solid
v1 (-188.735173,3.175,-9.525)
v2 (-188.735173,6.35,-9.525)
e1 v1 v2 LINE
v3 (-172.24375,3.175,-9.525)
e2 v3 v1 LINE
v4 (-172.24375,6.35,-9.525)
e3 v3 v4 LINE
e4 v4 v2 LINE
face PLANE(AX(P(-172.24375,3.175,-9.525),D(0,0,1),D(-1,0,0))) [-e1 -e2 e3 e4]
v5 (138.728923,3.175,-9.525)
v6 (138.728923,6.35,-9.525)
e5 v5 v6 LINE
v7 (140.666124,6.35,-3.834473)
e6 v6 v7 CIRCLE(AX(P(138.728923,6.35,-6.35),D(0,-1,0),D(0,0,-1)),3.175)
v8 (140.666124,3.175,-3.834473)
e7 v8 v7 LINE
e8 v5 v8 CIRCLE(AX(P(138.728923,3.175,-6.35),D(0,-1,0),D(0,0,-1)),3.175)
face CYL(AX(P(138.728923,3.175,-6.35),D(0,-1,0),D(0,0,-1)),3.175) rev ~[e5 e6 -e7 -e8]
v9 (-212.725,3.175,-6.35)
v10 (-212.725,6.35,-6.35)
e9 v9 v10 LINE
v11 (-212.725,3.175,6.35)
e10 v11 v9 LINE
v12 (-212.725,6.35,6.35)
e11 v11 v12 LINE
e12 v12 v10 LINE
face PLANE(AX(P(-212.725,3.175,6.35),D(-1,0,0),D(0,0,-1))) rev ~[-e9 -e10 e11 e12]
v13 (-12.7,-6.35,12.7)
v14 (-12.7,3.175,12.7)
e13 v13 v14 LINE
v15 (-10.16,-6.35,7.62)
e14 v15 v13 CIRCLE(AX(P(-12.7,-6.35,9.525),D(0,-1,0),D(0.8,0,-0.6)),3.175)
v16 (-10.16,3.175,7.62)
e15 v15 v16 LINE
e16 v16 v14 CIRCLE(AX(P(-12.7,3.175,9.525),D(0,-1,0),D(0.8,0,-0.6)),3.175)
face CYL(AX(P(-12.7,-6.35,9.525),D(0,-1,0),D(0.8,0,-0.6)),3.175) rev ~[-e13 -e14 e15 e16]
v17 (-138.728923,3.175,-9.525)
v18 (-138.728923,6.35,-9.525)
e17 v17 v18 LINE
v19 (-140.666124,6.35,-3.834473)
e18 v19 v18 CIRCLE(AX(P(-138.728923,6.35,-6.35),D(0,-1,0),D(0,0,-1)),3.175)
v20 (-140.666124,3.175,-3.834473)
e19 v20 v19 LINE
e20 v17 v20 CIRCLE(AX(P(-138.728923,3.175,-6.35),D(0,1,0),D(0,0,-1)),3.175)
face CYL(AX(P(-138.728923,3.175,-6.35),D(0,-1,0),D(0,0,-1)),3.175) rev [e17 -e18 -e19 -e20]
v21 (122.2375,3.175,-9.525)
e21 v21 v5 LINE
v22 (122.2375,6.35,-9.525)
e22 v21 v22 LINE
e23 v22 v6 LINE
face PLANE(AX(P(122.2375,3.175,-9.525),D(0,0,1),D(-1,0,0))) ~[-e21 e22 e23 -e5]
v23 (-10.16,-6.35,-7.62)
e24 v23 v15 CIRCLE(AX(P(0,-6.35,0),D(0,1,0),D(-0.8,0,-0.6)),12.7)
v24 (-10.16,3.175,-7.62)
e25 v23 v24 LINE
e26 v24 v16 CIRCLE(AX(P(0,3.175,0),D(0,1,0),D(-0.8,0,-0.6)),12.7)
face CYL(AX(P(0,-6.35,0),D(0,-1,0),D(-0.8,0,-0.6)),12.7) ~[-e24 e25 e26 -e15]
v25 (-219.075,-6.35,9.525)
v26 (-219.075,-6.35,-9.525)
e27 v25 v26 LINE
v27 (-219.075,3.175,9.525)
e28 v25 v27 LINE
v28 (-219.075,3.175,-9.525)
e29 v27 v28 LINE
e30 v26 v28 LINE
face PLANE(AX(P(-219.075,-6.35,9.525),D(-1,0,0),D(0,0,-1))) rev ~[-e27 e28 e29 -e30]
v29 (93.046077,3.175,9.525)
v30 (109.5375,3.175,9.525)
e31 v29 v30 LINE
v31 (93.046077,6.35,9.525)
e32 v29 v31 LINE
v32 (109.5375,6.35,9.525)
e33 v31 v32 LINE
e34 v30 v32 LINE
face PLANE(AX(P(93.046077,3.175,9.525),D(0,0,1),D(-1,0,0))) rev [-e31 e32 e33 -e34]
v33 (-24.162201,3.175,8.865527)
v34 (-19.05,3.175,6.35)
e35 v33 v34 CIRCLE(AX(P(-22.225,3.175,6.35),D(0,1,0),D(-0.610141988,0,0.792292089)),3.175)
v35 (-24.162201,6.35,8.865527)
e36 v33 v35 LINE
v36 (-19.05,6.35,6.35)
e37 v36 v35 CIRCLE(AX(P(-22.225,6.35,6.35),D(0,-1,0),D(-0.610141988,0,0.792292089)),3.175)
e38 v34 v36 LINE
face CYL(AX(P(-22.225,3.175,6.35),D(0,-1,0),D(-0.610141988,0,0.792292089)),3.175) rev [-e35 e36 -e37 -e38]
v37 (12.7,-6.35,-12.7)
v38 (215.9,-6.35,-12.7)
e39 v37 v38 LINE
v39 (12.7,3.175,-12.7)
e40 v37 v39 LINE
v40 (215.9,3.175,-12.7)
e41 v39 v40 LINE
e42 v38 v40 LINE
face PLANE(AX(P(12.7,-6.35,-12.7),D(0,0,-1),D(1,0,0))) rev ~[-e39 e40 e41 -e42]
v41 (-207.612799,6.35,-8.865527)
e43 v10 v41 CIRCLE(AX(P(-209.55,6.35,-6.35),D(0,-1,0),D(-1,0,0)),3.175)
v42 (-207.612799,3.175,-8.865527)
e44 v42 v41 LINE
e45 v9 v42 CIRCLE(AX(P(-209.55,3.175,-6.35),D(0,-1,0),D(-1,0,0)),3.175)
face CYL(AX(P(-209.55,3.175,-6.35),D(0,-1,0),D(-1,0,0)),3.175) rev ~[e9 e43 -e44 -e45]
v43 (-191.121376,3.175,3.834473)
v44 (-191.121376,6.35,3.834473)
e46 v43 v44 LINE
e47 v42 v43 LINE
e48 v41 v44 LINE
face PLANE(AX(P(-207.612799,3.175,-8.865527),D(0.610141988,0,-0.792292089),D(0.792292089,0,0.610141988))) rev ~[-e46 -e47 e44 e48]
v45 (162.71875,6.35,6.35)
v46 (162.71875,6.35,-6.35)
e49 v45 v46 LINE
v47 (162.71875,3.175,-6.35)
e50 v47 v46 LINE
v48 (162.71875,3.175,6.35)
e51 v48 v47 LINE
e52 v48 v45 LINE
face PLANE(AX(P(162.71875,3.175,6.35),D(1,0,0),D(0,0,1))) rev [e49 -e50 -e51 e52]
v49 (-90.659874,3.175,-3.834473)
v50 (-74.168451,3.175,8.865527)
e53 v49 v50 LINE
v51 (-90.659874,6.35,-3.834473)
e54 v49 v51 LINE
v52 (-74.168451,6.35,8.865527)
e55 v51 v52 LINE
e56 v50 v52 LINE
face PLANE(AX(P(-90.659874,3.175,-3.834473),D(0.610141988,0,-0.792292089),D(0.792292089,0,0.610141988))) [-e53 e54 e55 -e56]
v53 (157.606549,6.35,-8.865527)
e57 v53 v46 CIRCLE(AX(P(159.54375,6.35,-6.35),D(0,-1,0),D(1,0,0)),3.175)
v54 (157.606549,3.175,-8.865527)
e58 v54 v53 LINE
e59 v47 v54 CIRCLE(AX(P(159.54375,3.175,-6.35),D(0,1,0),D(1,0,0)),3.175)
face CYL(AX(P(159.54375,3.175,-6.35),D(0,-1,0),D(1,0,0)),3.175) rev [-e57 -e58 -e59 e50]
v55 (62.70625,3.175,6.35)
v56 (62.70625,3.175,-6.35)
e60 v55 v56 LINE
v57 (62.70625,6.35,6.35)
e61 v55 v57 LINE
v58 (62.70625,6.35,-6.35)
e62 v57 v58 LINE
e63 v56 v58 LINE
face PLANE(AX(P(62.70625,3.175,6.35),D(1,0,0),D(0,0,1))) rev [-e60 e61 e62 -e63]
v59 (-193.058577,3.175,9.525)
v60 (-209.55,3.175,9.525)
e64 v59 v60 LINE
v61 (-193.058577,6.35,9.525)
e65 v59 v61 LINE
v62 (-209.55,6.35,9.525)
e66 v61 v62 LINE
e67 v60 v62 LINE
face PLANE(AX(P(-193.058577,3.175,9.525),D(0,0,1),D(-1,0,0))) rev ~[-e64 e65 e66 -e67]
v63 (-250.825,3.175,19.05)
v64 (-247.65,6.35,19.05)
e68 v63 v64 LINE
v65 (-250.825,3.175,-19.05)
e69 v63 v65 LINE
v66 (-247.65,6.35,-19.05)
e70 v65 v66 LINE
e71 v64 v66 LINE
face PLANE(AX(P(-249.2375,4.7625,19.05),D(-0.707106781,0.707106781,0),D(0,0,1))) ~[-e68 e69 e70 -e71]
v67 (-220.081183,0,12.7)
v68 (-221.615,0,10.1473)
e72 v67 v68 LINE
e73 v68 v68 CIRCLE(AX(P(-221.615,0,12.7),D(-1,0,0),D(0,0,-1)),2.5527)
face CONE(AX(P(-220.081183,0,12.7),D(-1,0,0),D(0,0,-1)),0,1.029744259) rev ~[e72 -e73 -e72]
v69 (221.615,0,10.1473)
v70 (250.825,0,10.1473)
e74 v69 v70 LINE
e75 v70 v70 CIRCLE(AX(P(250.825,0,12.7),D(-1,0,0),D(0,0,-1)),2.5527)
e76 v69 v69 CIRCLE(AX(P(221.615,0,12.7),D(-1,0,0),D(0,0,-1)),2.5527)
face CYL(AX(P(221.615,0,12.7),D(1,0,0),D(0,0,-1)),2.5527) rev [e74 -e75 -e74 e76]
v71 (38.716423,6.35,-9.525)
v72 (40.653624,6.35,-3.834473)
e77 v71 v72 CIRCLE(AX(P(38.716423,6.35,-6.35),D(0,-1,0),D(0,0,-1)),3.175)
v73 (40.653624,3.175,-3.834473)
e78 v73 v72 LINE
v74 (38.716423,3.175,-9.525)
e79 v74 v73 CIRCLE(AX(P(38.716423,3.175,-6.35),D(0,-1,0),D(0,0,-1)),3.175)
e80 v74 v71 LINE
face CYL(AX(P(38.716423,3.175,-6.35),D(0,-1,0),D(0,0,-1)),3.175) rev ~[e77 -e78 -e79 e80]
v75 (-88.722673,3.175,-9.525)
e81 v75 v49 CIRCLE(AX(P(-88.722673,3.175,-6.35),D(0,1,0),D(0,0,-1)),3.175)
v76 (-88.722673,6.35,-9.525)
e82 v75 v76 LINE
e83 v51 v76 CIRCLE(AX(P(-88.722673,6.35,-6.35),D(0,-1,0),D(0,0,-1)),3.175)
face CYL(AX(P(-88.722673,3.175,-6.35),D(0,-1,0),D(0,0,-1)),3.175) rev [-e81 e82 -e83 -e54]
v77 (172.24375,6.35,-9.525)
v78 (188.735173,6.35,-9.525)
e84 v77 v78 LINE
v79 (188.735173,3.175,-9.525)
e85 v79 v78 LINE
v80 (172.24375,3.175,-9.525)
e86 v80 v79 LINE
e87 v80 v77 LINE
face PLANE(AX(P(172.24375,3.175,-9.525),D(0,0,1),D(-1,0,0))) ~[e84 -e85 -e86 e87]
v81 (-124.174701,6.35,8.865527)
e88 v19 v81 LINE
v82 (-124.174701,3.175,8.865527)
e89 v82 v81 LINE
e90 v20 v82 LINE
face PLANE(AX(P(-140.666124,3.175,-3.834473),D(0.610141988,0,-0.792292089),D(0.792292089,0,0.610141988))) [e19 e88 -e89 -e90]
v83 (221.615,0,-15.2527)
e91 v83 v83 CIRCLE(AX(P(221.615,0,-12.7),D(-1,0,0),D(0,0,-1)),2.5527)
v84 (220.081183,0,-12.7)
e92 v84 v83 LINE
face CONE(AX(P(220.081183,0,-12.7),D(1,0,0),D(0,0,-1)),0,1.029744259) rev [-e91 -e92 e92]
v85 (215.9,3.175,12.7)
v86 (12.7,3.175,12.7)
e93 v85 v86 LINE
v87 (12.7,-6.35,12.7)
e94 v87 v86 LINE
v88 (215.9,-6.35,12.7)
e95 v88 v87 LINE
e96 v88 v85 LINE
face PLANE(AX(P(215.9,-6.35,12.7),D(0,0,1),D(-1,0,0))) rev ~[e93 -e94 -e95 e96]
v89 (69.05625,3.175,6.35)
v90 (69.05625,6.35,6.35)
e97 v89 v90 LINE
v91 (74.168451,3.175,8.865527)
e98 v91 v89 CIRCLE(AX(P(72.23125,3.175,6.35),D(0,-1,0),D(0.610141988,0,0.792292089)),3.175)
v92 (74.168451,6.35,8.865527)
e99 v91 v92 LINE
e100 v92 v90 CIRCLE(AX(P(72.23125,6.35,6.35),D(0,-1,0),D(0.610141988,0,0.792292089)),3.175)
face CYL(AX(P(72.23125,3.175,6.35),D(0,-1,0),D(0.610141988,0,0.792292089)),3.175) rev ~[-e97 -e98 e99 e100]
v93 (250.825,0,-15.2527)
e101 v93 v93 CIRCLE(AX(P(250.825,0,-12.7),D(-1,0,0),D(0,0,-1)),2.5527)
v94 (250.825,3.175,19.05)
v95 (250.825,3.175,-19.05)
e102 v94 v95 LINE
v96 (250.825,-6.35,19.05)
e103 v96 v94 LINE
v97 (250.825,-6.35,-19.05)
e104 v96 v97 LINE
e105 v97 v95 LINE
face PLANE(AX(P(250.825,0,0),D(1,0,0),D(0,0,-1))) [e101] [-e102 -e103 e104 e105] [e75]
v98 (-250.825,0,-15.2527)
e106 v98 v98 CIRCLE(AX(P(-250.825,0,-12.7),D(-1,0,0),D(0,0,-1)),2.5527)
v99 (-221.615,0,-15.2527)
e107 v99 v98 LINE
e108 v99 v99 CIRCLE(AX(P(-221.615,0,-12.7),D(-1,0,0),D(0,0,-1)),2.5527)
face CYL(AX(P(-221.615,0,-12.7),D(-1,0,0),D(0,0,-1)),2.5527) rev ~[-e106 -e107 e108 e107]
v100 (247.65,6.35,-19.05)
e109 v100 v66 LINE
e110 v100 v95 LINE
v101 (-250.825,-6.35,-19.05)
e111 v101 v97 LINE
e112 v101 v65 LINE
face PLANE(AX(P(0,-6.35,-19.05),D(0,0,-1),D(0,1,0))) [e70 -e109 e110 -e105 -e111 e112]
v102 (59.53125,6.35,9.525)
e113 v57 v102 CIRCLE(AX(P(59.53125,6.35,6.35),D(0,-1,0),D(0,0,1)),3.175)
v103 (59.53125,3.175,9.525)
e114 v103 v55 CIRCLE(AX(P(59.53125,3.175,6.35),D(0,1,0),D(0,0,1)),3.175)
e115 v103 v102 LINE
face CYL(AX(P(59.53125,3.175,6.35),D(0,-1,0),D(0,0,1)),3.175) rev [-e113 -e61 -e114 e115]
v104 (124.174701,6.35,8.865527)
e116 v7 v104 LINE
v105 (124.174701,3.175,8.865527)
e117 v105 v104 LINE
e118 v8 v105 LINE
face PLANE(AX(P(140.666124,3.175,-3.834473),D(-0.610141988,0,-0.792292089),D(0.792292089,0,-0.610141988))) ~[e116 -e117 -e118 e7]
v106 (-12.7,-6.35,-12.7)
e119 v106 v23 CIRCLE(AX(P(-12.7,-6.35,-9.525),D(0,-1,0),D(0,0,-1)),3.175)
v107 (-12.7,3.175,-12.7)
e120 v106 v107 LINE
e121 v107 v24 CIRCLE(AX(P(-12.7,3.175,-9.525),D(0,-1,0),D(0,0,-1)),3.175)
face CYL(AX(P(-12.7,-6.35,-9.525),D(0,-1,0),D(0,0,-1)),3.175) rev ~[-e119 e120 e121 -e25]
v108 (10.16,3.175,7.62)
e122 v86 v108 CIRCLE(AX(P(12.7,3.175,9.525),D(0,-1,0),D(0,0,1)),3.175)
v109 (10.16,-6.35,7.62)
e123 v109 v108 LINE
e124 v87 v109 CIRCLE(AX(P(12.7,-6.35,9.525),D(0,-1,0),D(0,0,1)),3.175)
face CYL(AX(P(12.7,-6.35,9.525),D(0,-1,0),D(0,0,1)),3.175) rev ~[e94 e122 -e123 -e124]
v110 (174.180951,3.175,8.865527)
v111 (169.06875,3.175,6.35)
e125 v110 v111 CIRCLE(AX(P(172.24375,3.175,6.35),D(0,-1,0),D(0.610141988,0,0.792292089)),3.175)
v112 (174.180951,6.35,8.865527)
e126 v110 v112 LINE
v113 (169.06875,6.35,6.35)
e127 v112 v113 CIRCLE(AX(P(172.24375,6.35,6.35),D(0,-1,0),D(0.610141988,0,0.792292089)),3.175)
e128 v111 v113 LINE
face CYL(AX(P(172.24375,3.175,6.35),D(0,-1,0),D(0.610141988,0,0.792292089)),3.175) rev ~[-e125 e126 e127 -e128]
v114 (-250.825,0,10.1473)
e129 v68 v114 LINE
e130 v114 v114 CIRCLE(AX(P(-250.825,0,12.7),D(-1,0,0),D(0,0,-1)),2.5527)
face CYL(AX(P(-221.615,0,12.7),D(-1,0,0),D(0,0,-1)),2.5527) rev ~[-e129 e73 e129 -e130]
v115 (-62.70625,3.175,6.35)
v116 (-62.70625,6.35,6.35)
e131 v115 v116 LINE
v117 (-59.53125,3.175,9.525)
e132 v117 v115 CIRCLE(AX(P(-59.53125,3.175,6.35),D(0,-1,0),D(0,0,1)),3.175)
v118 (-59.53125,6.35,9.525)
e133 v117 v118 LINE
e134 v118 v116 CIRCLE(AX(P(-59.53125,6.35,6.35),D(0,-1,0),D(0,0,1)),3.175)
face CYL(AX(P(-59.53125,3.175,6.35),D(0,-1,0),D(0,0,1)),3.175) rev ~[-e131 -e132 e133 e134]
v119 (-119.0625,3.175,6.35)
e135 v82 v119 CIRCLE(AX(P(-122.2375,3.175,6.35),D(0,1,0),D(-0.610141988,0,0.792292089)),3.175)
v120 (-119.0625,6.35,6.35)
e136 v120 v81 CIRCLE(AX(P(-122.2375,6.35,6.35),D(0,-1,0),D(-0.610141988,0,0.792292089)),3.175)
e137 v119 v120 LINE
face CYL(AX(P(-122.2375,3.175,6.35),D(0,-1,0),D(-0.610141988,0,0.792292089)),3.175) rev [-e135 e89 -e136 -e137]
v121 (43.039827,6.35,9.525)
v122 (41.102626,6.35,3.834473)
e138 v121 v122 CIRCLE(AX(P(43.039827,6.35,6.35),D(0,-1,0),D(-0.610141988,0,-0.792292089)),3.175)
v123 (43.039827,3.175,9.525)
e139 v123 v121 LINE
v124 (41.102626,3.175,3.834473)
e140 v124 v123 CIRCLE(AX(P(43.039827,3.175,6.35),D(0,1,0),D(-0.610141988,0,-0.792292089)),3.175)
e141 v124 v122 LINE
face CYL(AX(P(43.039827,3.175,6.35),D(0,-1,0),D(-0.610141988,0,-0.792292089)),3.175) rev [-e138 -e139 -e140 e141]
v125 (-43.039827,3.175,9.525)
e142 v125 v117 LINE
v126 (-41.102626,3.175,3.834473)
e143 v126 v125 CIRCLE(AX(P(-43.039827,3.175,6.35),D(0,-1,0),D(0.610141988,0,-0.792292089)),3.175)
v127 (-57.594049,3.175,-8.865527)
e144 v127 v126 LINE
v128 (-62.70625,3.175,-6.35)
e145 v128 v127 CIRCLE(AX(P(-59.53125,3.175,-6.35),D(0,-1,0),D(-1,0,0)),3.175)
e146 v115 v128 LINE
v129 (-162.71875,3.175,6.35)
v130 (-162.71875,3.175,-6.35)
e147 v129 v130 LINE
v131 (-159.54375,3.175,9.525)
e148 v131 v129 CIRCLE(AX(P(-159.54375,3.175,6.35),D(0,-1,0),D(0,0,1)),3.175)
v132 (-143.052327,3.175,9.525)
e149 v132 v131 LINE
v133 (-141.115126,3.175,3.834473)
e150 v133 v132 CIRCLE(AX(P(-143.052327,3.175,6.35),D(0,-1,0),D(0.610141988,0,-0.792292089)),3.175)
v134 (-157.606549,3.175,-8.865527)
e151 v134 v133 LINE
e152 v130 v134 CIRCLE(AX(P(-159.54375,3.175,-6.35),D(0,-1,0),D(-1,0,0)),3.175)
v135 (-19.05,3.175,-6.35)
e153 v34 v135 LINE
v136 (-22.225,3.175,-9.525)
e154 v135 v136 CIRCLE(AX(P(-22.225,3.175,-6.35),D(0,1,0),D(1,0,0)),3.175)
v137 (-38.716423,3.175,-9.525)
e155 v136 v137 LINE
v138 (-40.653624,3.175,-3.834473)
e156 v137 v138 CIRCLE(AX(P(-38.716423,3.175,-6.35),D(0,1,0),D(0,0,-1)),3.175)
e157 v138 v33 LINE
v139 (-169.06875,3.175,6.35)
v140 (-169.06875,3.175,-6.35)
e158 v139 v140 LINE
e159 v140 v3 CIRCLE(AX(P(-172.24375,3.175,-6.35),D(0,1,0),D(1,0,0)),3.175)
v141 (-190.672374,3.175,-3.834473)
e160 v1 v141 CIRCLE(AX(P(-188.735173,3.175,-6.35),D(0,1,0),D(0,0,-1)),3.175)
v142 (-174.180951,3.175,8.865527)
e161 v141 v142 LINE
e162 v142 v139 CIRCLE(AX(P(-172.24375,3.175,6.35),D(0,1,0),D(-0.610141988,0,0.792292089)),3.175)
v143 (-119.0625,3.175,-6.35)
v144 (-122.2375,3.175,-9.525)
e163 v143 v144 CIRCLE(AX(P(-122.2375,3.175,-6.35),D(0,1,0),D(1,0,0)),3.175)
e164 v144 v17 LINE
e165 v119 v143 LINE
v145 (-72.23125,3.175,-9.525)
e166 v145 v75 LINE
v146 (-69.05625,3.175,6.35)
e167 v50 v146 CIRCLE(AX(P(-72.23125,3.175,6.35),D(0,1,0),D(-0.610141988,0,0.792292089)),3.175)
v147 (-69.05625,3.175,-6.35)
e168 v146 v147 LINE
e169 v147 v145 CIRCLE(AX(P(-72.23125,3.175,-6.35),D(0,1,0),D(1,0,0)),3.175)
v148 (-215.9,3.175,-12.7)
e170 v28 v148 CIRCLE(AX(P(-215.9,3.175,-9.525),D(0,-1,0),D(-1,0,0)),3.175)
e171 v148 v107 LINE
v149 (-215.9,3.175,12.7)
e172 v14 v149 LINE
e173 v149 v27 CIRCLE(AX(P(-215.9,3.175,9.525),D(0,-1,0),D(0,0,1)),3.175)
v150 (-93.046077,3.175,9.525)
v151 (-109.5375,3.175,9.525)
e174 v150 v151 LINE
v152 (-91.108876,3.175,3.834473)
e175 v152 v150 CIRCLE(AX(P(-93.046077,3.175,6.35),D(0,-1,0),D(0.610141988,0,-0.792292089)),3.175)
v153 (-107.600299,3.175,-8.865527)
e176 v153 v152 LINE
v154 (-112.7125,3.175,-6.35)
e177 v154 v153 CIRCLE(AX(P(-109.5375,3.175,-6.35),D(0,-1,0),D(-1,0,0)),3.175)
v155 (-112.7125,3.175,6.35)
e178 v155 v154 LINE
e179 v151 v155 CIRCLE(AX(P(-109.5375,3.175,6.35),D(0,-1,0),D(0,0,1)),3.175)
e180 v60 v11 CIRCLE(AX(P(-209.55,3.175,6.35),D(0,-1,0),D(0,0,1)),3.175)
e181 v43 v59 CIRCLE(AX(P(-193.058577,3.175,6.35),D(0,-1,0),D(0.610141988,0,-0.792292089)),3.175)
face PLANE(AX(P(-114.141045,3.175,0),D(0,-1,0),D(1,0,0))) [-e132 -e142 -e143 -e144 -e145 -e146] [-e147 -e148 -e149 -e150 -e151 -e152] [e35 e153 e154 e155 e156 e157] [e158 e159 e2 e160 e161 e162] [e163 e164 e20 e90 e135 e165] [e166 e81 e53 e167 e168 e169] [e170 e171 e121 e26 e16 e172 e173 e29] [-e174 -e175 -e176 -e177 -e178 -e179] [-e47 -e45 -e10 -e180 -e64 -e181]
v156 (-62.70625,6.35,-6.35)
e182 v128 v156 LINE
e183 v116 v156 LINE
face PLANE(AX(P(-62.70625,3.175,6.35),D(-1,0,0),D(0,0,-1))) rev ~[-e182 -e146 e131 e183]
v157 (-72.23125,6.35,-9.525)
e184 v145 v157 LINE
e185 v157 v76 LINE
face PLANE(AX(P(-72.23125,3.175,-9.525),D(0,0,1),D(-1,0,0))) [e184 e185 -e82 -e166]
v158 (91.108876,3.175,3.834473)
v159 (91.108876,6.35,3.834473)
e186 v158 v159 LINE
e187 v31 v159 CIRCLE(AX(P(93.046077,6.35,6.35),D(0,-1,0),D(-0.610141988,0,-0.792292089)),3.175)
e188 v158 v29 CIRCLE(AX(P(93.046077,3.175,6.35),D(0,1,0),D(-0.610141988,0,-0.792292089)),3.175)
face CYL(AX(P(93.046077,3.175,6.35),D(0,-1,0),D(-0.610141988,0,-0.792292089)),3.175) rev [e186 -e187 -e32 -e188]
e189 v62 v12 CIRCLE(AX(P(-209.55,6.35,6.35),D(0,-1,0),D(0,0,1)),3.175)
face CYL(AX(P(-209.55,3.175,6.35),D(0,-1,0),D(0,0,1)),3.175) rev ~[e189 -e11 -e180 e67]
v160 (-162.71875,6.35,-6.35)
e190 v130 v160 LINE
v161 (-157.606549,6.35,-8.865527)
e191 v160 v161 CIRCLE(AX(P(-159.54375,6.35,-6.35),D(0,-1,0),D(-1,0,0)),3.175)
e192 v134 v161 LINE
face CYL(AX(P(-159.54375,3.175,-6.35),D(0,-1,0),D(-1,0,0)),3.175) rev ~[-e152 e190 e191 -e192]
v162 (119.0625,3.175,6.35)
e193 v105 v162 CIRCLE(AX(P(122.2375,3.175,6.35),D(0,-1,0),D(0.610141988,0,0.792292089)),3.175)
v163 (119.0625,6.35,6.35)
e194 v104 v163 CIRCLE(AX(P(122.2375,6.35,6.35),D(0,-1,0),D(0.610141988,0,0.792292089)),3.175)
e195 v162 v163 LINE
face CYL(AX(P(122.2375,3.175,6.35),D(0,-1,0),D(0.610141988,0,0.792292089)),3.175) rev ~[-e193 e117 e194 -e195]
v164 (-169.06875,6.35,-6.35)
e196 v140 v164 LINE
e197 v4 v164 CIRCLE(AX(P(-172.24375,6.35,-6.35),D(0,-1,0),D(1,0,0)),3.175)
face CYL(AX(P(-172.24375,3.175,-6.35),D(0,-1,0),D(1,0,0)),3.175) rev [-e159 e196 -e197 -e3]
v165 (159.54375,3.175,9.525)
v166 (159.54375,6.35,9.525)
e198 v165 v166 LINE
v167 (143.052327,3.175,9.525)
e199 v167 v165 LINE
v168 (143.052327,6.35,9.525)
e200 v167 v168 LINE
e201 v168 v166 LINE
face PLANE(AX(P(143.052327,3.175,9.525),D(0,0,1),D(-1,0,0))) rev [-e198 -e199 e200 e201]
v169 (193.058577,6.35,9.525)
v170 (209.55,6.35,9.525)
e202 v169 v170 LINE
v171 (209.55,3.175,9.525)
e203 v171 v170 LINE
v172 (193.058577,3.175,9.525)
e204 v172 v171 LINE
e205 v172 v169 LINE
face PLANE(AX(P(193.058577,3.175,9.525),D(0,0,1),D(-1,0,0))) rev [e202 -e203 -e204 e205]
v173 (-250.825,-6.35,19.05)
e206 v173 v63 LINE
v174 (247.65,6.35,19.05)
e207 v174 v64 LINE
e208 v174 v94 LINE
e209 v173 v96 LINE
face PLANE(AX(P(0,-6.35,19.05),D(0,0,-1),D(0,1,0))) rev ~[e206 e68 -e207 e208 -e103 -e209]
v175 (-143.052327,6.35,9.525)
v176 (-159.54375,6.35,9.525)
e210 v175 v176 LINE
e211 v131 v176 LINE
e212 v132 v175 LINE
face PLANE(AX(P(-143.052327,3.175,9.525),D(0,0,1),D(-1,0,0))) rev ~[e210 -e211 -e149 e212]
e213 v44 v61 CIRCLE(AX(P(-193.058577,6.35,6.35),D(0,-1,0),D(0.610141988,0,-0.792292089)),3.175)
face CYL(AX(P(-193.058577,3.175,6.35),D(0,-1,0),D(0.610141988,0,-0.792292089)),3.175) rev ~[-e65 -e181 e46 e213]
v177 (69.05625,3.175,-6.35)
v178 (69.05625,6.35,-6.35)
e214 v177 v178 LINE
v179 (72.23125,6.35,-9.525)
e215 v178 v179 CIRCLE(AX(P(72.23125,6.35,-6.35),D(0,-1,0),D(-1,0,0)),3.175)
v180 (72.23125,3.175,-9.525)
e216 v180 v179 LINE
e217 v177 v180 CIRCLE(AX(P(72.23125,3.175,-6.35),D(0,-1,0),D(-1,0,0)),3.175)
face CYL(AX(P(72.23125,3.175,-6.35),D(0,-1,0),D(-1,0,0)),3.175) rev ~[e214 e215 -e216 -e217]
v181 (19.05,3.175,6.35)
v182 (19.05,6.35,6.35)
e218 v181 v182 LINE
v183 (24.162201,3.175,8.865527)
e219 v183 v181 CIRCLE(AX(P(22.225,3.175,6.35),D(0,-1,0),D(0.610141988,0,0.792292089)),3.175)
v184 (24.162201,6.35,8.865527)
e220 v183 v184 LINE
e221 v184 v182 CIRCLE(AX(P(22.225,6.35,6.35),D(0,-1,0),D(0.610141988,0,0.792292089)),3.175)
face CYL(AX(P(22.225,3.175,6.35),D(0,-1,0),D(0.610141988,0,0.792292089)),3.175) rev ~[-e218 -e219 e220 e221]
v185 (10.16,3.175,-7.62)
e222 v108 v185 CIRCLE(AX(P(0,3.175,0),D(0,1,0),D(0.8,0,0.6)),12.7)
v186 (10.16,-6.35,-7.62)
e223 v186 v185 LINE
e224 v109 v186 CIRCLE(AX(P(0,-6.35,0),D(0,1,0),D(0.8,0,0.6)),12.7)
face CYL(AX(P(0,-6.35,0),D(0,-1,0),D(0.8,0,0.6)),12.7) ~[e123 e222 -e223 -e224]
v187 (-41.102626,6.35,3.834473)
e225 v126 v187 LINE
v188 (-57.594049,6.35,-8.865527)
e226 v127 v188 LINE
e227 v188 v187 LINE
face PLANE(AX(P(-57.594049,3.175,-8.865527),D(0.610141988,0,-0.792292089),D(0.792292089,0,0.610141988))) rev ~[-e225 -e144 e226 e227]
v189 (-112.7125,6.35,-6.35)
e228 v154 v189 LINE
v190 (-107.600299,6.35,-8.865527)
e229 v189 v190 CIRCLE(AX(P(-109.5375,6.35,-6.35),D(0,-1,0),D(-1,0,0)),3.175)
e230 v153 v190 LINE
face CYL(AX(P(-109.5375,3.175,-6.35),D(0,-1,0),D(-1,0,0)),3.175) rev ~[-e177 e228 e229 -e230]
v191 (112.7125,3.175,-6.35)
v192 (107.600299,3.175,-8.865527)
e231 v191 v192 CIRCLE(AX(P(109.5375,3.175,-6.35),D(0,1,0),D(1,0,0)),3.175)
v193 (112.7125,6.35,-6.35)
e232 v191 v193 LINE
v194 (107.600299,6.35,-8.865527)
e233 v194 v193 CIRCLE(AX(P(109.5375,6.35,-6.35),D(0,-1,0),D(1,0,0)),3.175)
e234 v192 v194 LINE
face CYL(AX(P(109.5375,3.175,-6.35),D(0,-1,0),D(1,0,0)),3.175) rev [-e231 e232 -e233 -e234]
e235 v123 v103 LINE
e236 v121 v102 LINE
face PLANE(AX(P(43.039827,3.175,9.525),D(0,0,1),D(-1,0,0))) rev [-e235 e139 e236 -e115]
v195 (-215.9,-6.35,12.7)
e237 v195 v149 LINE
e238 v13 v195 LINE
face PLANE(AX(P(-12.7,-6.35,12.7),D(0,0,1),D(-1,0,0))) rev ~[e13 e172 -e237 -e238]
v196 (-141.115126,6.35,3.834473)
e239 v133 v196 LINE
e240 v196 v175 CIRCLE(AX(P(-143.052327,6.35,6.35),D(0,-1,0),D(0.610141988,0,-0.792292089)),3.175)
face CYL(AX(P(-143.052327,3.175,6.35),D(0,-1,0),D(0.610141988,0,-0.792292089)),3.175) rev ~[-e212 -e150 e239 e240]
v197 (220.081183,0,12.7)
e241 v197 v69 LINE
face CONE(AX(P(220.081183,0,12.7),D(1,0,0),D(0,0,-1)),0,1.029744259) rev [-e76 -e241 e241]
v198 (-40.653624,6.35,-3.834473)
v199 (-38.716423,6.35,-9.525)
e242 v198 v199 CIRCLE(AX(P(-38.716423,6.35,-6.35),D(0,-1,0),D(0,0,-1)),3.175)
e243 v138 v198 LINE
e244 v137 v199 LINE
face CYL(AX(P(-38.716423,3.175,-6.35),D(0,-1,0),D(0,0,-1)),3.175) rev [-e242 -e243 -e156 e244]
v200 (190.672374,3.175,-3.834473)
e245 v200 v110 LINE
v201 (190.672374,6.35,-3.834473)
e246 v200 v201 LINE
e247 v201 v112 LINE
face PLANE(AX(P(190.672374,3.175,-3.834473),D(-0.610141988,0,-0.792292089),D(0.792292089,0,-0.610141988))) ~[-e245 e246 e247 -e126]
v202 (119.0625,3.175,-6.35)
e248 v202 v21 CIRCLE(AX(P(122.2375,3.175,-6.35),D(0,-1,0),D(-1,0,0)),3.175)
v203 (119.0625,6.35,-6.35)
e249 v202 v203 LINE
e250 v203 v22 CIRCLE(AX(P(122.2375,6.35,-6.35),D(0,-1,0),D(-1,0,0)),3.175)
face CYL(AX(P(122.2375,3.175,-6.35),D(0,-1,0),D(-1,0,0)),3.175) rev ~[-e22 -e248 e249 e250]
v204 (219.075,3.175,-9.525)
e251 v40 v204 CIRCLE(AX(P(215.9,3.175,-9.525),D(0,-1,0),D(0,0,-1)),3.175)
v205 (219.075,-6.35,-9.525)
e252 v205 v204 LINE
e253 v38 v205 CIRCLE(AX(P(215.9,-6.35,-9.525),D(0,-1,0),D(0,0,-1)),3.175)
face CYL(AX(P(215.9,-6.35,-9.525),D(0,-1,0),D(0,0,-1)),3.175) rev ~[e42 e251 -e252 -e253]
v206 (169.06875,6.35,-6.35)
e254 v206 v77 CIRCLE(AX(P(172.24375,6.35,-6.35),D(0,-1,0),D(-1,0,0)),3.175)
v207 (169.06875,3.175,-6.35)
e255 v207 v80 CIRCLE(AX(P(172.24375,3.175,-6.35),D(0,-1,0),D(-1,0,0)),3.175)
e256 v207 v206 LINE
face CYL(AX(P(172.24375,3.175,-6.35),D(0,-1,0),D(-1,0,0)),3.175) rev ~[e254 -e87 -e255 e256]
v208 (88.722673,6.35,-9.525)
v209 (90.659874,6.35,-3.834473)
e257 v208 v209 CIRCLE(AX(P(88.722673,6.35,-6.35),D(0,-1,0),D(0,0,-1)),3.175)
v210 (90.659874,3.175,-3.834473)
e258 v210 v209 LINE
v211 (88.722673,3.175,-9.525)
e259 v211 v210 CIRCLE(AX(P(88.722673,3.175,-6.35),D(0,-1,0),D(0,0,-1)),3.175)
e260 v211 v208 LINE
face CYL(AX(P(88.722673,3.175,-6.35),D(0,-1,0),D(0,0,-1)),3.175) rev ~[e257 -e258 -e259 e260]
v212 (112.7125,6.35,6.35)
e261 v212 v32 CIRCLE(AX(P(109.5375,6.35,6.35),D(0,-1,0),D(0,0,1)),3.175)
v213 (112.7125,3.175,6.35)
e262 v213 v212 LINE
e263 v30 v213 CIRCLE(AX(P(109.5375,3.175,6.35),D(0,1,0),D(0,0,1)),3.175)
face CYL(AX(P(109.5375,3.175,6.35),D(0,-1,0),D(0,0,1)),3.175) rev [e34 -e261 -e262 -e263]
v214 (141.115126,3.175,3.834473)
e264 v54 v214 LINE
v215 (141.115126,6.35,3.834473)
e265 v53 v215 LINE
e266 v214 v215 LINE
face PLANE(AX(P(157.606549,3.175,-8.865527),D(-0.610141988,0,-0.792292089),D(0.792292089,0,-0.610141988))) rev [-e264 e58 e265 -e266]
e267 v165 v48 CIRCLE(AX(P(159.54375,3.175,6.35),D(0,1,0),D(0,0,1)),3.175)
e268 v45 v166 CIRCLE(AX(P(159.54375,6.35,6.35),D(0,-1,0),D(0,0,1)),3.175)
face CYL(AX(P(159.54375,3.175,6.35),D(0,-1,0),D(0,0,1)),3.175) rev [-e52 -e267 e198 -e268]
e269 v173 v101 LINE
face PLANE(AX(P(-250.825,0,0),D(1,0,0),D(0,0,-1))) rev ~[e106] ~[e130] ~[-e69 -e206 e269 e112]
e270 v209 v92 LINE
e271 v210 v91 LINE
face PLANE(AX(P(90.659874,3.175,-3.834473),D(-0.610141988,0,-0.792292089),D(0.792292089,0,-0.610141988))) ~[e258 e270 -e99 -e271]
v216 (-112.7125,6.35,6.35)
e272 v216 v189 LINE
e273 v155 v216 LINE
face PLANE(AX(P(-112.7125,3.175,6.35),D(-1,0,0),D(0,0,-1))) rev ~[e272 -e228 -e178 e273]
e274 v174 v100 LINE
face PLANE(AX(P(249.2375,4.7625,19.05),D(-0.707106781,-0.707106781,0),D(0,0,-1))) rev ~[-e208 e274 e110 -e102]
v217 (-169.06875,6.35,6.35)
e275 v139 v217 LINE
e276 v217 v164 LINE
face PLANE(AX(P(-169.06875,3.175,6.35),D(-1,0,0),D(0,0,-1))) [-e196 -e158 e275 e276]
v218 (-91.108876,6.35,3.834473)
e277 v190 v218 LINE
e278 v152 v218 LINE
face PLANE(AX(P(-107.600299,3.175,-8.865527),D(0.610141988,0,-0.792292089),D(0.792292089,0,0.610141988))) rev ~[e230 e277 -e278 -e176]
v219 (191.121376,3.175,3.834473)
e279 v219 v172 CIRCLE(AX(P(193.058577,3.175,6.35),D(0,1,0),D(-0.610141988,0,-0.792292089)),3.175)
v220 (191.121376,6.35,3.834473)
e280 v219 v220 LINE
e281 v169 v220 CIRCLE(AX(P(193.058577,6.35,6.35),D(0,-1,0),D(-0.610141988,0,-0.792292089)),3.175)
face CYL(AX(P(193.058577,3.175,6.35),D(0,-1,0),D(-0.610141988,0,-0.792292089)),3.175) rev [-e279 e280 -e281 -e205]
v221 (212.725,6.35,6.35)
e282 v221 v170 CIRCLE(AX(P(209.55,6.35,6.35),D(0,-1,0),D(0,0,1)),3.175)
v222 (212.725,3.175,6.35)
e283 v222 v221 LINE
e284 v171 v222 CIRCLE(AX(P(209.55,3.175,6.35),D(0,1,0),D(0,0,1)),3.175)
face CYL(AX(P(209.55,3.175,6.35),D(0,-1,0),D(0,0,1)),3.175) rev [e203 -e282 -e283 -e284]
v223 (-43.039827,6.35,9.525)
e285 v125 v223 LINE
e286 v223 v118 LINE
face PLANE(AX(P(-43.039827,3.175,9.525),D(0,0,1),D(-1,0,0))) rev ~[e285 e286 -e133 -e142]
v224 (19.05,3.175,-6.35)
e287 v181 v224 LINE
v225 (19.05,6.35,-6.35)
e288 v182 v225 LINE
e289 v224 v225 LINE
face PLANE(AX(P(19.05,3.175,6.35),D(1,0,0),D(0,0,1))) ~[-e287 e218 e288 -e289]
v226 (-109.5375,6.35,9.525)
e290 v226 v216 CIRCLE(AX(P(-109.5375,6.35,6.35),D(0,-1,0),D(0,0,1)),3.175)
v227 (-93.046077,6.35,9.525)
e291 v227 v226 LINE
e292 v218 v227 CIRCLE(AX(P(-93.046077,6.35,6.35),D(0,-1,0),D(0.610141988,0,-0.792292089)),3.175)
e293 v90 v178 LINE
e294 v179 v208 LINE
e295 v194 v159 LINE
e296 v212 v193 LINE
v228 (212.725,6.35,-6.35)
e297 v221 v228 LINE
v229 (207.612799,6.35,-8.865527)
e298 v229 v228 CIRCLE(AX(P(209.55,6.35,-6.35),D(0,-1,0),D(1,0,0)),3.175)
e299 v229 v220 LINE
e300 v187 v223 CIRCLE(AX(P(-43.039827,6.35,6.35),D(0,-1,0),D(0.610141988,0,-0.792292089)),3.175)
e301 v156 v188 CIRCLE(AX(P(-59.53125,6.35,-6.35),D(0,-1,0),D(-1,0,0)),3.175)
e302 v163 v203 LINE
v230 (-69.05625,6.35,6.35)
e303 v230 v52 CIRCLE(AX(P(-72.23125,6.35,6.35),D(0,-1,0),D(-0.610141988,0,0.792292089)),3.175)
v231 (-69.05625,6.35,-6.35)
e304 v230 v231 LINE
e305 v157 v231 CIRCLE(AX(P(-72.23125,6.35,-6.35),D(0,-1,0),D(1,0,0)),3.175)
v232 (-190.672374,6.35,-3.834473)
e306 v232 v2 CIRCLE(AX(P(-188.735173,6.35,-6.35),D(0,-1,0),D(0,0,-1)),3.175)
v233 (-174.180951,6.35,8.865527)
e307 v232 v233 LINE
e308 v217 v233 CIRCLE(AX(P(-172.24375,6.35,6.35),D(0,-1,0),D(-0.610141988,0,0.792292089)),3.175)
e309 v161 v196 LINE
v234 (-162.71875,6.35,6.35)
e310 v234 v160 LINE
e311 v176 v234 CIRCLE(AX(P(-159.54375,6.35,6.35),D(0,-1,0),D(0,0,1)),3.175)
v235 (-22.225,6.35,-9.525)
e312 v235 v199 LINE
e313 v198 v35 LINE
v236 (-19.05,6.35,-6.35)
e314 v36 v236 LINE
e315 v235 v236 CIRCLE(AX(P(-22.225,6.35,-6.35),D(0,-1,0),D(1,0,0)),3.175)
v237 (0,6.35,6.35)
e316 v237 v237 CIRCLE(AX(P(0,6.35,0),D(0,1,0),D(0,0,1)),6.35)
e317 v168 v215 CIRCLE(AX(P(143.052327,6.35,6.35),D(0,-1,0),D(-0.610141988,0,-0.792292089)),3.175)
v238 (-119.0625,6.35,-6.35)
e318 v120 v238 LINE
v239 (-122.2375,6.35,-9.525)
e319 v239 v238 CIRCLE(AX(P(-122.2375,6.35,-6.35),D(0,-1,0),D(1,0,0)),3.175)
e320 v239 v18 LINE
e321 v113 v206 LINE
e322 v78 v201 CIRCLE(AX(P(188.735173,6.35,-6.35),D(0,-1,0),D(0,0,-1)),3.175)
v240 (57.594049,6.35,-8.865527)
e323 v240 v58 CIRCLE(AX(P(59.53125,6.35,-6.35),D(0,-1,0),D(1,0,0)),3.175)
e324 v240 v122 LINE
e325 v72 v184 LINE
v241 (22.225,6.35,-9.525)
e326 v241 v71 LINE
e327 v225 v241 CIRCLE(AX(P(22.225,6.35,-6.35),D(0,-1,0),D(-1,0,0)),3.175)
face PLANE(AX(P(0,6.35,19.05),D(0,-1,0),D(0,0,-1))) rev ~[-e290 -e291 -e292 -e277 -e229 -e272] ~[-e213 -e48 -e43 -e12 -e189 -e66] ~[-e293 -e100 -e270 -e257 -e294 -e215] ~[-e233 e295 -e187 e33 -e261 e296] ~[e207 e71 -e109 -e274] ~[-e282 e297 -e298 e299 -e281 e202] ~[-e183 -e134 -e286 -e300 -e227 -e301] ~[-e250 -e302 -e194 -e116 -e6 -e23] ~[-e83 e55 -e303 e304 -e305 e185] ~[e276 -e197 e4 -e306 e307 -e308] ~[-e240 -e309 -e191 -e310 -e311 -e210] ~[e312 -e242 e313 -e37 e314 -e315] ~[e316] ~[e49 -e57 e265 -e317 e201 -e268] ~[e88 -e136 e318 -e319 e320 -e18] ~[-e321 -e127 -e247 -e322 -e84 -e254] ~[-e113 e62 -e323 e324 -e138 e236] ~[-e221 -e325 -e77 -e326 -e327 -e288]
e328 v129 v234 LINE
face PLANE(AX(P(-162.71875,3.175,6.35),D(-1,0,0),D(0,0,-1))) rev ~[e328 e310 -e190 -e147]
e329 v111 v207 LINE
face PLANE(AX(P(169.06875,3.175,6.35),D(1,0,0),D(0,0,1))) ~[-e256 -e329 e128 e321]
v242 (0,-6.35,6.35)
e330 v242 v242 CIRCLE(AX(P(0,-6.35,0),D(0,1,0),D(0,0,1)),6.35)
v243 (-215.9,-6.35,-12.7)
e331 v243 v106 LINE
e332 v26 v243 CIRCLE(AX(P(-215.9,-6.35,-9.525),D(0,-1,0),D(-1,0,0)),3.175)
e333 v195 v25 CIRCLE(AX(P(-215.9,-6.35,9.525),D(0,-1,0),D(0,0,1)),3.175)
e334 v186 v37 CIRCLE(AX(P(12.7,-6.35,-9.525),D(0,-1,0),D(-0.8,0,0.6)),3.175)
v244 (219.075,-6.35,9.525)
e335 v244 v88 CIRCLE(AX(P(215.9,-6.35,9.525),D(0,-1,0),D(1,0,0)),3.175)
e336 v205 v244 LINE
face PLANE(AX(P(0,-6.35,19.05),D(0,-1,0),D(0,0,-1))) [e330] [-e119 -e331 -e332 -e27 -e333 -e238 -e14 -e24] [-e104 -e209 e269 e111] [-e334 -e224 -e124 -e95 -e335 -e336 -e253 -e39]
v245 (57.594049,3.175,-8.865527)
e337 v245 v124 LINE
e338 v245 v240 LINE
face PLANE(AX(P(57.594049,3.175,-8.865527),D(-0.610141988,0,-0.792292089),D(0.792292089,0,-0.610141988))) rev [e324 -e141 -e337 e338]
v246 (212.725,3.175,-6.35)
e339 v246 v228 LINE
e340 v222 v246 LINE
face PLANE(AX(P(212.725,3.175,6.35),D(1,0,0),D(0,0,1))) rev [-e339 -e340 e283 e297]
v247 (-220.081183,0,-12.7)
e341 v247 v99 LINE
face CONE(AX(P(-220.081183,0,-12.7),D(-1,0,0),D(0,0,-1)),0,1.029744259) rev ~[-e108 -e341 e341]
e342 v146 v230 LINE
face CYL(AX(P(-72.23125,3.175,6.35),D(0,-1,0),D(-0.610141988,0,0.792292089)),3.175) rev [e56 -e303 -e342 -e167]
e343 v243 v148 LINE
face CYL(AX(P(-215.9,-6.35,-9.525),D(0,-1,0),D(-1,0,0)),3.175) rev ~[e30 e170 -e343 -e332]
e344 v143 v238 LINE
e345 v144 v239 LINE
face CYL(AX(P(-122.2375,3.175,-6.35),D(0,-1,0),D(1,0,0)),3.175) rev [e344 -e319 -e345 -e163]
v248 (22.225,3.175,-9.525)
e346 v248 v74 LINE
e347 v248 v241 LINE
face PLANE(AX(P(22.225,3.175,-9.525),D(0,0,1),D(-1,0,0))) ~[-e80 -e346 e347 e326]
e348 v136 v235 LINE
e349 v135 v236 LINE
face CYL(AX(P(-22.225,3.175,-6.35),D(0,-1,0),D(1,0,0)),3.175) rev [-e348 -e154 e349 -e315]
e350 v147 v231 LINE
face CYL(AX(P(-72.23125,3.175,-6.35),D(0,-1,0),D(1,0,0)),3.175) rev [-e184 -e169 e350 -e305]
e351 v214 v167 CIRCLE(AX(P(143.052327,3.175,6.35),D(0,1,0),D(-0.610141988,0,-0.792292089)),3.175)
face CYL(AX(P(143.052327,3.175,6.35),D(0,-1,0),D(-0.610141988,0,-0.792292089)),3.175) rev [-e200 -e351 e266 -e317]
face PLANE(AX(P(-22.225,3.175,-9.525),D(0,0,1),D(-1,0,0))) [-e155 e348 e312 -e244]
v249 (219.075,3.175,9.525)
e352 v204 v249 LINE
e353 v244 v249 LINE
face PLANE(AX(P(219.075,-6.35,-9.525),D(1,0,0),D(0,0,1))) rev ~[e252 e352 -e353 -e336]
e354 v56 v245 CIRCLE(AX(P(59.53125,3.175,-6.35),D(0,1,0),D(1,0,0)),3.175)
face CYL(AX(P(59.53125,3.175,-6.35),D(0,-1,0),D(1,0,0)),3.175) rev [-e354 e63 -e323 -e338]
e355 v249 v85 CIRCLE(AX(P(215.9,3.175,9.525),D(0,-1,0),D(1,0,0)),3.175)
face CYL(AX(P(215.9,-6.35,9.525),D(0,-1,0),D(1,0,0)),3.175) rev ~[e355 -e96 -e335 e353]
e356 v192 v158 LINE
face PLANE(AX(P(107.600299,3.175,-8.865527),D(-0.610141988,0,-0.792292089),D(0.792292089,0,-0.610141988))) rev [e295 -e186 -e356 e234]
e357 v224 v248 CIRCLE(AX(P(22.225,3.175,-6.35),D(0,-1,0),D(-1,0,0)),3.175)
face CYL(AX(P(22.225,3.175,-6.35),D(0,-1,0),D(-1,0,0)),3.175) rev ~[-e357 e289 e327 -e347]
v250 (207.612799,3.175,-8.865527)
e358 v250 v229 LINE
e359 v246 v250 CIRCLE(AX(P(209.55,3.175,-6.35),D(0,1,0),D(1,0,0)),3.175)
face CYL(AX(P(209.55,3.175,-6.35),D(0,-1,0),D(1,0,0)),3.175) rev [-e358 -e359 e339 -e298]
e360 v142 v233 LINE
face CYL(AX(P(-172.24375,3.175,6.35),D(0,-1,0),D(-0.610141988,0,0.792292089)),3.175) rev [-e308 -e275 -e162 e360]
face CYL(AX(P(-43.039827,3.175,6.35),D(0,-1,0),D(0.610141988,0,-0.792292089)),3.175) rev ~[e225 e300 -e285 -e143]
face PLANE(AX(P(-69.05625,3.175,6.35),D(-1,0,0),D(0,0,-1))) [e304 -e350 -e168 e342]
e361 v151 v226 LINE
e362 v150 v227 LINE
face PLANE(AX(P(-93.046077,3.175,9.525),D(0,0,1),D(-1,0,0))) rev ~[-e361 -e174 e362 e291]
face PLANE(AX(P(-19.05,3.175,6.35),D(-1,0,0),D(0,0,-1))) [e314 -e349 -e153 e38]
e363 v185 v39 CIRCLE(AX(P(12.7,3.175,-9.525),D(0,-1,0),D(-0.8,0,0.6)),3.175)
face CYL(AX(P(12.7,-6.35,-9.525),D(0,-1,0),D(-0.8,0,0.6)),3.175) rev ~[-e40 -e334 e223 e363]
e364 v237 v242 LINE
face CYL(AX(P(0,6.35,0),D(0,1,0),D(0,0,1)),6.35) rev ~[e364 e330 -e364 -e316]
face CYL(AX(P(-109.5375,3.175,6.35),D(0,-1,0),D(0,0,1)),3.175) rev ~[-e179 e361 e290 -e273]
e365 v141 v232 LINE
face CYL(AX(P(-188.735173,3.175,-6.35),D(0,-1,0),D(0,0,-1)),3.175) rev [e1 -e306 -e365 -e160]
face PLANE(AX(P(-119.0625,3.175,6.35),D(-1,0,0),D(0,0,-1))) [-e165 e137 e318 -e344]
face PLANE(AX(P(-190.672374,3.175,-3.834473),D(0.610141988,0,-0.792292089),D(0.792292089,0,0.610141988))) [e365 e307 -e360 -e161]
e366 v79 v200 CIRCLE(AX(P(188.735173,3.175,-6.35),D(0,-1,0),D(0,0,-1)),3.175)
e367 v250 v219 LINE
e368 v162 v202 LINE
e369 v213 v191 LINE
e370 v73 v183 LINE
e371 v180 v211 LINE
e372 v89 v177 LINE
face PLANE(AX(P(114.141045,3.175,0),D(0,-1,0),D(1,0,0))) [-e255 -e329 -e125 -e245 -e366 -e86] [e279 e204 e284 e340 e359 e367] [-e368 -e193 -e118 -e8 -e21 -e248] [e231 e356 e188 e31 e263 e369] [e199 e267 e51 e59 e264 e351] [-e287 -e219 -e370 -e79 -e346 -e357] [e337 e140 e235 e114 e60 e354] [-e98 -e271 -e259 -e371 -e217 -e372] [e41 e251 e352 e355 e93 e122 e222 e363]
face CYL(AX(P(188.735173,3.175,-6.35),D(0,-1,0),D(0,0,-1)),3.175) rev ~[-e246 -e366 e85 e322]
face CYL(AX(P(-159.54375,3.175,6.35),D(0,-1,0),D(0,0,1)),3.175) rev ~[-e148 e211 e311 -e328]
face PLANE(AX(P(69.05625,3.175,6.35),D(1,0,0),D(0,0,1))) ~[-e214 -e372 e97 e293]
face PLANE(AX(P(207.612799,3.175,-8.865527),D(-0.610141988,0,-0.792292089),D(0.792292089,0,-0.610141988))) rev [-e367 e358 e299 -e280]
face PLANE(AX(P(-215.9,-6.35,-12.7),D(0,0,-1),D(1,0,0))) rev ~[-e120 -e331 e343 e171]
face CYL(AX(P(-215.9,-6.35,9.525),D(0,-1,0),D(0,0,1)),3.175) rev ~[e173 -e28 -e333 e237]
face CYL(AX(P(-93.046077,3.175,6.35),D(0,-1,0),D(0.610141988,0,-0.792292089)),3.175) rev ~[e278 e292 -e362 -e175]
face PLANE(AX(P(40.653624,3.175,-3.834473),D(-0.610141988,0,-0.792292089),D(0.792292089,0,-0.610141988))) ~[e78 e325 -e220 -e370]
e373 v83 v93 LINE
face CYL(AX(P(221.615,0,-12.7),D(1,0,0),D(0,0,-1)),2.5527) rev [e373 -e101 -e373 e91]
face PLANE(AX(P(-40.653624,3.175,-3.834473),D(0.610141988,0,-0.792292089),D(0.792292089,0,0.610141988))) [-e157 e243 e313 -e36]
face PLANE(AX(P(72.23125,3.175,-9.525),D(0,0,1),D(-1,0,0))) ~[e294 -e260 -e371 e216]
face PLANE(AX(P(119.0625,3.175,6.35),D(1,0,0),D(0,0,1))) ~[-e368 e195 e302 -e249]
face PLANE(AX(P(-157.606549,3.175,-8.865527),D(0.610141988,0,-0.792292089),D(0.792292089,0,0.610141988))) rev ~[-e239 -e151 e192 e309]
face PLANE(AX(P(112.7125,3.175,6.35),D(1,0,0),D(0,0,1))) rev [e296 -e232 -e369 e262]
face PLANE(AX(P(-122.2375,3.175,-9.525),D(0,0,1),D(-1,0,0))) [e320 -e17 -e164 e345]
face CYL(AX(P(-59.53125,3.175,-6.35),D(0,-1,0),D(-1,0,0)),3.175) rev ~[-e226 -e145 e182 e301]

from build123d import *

# Parameters (mm, degrees)
SKETCH1_W                        = 38.1
SKETCH1_H                        = 12.7
BOSS_EXTRUDE1_DEPTH              = 250.825
SKETCH2_R                        = 6.35
CUT_EXTRUDE1_DEPTH               = 252.867769127
F_1_4_20_TAPPED_HOLE1_AT_2_COUNT = 2
F_1_4_20_TAPPED_HOLE1_AT_2_PITCH = 25.4
CHAMFER1_SIZE                    = 3.175
CUT_EXTRUDE2_DEPTH               = 9.525
CUT_EXTRUDE3_DEPTH               = 252.727647965


with BuildPart() as part:
    # Sketch1 → Boss-Extrude1 (new, symmetric)
    with BuildSketch(Plane(origin=(0, 0, 0), x_dir=(0, 0, -1), z_dir=(1, 0, 0))):
        Rectangle(SKETCH1_W, SKETCH1_H)
    extrude(amount=BOSS_EXTRUDE1_DEPTH, both=True)

    # Sketch2 → Cut-Extrude1 (cut, through all)
    with BuildSketch(Plane(origin=(0, 6.35, 0), x_dir=(1, 0, 0), z_dir=(0, 1, 0))):
        with Locations(Location((0, 0, 0), (0, 0, 270))):
            Circle(SKETCH2_R)
    extrude(amount=-CUT_EXTRUDE1_DEPTH, mode=Mode.SUBTRACT)

    # Sketch3 → 1/4-20 Tapped Hole1 (revolve, cut)
    with BuildSketch(Plane(origin=(250.825, 0, 12.7), x_dir=(0, 0, -1), z_dir=(0, 1, 0))):
        Polygon((0, 0), (0, 30.743816902), (2.5527, 29.21), (2.5527, 0), align=None)
    f_1_4_20_tapped_hole1 = revolve(axis=Axis((257.175, 0, 12.7), (-1, 0, 0)), mode=Mode.SUBTRACT)

    # 1/4-20 Tapped Hole1 at 2: 1/4-20 Tapped Hole1 ×2
    with Locations(*[(0, 0, -i * F_1_4_20_TAPPED_HOLE1_AT_2_PITCH) for i in range(1, F_1_4_20_TAPPED_HOLE1_AT_2_COUNT)]):
        add(f_1_4_20_tapped_hole1, mode=Mode.SUBTRACT)

    # Chamfer1
    chamfer1_edges = [part.edges().sort_by_distance(p)[0] for p in [
        (-250.825, 6.35, 0),
        (250.825, 6.35, 0),
    ]]
    chamfer(chamfer1_edges, length=CHAMFER1_SIZE)

    # Sketch4 → Cut-Extrude2 (cut)
    with BuildSketch(Plane.XZ.offset(6.35)):
        with BuildLine():
            Line((-215.9, -12.7), (-12.7, -12.7))
            ThreePointArc((-12.7, -12.7), (-9.860193669, -10.944903166), (-10.16, -7.62))
            ThreePointArc((-10.16, -7.62), (-12.7, 0), (-10.16, 7.62))
            ThreePointArc((-10.16, 7.62), (-9.860193669, 10.944903166), (-12.7, 12.7))
            Line((-12.7, 12.7), (-215.9, 12.7))
            ThreePointArc((-215.9, 12.7), (-218.14506403, 11.77006403), (-219.075, 9.525))
            Line((-219.075, 9.525), (-219.075, -9.525))
            ThreePointArc((-219.075, -9.525), (-218.14506403, -11.77006403), (-215.9, -12.7))
        make_face()
        with BuildLine():
            Line((219.075, -9.525), (219.075, 9.525))
            ThreePointArc((219.075, 9.525), (218.14506403, 11.77006403), (215.9, 12.7))
            Line((215.9, 12.7), (12.7, 12.7))
            ThreePointArc((12.7, 12.7), (9.860193669, 10.944903166), (10.16, 7.62))
            ThreePointArc((10.16, 7.62), (12.7, 0), (10.16, -7.62))
            ThreePointArc((10.16, -7.62), (9.860193669, -10.944903166), (12.7, -12.7))
            Line((12.7, -12.7), (215.9, -12.7))
            ThreePointArc((215.9, -12.7), (218.14506403, -11.77006403), (219.075, -9.525))
        make_face()
    extrude(amount=-CUT_EXTRUDE2_DEPTH, mode=Mode.SUBTRACT)

    # Sketch5 → Cut-Extrude3 (cut, through all)
    with BuildSketch(Plane.XZ.offset(-3.175)):
        with BuildLine():
            Line((-212.725, 6.35), (-212.725, -6.35))
            ThreePointArc((-212.725, -6.35), (-210.951786793, -9.198792514), (-207.612799189, -8.865527383))
            Line((-207.612799189, -8.865527383), (-191.121376316, 3.834472617))
            ThreePointArc((-191.121376316, 3.834472617), (-190.052963676, 7.373187558), (-193.058577128, 9.525))
            Line((-193.058577128, 9.525), (-209.55, 9.525))
            ThreePointArc((-209.55, 9.525), (-211.79506403, 8.59506403), (-212.725, 6.35))
        make_face()
        with BuildLine():
            Line((-190.672373684, -3.834472617), (-174.180950811, 8.865527383))
            ThreePointArc((-174.180950811, 8.865527383), (-170.841963207, 9.198792514), (-169.06875, 6.35))
            Line((-169.06875, 6.35), (-169.06875, -6.35))
            ThreePointArc((-169.06875, -6.35), (-169.99868597, -8.59506403), (-172.24375, -9.525))
            Line((-172.24375, -9.525), (-188.735172872, -9.525))
            ThreePointArc((-188.735172872, -9.525), (-191.740786324, -7.373187558), (-190.672373684, -3.834472617))
        make_face()
        with BuildLine():
            Line((-119.0625, 6.35), (-119.0625, -6.35))
            ThreePointArc((-119.0625, -6.35), (-119.99243597, -8.59506403), (-122.2375, -9.525))
            Line((-122.2375, -9.525), (-138.728922872, -9.525))
            ThreePointArc((-138.728922872, -9.525), (-141.734536324, -7.373187558), (-140.666123684, -3.834472617))
            Line((-140.666123684, -3.834472617), (-124.174700811, 8.865527383))
            ThreePointArc((-124.174700811, 8.865527383), (-120.835713207, 9.198792514), (-119.0625, 6.35))
        make_face()
        with BuildLine():
            Line((-143.052327128, 9.525), (-159.54375, 9.525))
            ThreePointArc((-159.54375, 9.525), (-161.78881403, 8.59506403), (-162.71875, 6.35))
            Line((-162.71875, 6.35), (-162.71875, -6.35))
            ThreePointArc((-162.71875, -6.35), (-160.945536793, -9.198792514), (-157.606549189, -8.865527383))
            Line((-157.606549189, -8.865527383), (-141.115126316, 3.834472617))
            ThreePointArc((-141.115126316, 3.834472617), (-140.046713676, 7.373187558), (-143.052327128, 9.525))
        make_face()
        with BuildLine():
            Line((-69.05625, 6.35), (-69.05625, -6.35))
            ThreePointArc((-69.05625, -6.35), (-69.98618597, -8.59506403), (-72.23125, -9.525))
            Line((-72.23125, -9.525), (-88.722672872, -9.525))
            ThreePointArc((-88.722672872, -9.525), (-91.728286324, -7.373187558), (-90.659873684, -3.834472617))
            Line((-90.659873684, -3.834472617), (-74.168450811, 8.865527383))
            ThreePointArc((-74.168450811, 8.865527383), (-70.829463207, 9.198792514), (-69.05625, 6.35))
        make_face()
        with BuildLine():
            Line((-93.046077128, 9.525), (-109.5375, 9.525))
            ThreePointArc((-109.5375, 9.525), (-111.78256403, 8.59506403), (-112.7125, 6.35))
            Line((-112.7125, 6.35), (-112.7125, -6.35))
            ThreePointArc((-112.7125, -6.35), (-110.939286793, -9.198792514), (-107.600299189, -8.865527383))
            Line((-107.600299189, -8.865527383), (-91.108876316, 3.834472617))
            ThreePointArc((-91.108876316, 3.834472617), (-90.040463676, 7.373187558), (-93.046077128, 9.525))
        make_face()
        with BuildLine():
            Line((-19.05, 6.35), (-19.05, -6.35))
            ThreePointArc((-19.05, -6.35), (-19.97993597, -8.59506403), (-22.225, -9.525))
            Line((-22.225, -9.525), (-38.716422872, -9.525))
            ThreePointArc((-38.716422872, -9.525), (-41.722036324, -7.373187558), (-40.653623684, -3.834472617))
            Line((-40.653623684, -3.834472617), (-24.162200811, 8.865527383))
            ThreePointArc((-24.162200811, 8.865527383), (-20.823213207, 9.198792514), (-19.05, 6.35))
        make_face()
        with BuildLine():
            Line((-43.039827128, 9.525), (-59.53125, 9.525))
            ThreePointArc((-59.53125, 9.525), (-61.77631403, 8.59506403), (-62.70625, 6.35))
            Line((-62.70625, 6.35), (-62.70625, -6.35))
            ThreePointArc((-62.70625, -6.35), (-60.933036793, -9.198792514), (-57.594049189, -8.865527383))
            Line((-57.594049189, -8.865527383), (-41.102626316, 3.834472617))
            ThreePointArc((-41.102626316, 3.834472617), (-40.034213676, 7.373187558), (-43.039827128, 9.525))
        make_face()
    cut_extrude3 = extrude(amount=-CUT_EXTRUDE3_DEPTH, mode=Mode.SUBTRACT)

    # Mirror1: 1/4-20 Tapped Hole1, Cut-Extrude3 across plane
    add(f_1_4_20_tapped_hole1.mirror(Plane(origin=(0, 0, 0), x_dir=(0, 0, 1), z_dir=(1, 0, 0))), mode=Mode.SUBTRACT)
    add(cut_extrude3.mirror(Plane(origin=(0, 0, 0), x_dir=(0, 0, 1), z_dir=(1, 0, 0))), mode=Mode.SUBTRACT)

    # Mirror1 copy 1 sketch → Mirror1 copy 1 (revolve, cut)
    with BuildSketch(Plane(origin=(-250.825, 0, -12.7), x_dir=(0, 0, -1), z_dir=(0, 1, 0))):
        Polygon((0, 0), (0, -30.743816902), (2.5527, -29.21), (2.5527, 0), align=None)
    revolve(axis=Axis((-257.175, 0, -12.7), (-1, 0, 0)), mode=Mode.SUBTRACT)


solid = part.part
